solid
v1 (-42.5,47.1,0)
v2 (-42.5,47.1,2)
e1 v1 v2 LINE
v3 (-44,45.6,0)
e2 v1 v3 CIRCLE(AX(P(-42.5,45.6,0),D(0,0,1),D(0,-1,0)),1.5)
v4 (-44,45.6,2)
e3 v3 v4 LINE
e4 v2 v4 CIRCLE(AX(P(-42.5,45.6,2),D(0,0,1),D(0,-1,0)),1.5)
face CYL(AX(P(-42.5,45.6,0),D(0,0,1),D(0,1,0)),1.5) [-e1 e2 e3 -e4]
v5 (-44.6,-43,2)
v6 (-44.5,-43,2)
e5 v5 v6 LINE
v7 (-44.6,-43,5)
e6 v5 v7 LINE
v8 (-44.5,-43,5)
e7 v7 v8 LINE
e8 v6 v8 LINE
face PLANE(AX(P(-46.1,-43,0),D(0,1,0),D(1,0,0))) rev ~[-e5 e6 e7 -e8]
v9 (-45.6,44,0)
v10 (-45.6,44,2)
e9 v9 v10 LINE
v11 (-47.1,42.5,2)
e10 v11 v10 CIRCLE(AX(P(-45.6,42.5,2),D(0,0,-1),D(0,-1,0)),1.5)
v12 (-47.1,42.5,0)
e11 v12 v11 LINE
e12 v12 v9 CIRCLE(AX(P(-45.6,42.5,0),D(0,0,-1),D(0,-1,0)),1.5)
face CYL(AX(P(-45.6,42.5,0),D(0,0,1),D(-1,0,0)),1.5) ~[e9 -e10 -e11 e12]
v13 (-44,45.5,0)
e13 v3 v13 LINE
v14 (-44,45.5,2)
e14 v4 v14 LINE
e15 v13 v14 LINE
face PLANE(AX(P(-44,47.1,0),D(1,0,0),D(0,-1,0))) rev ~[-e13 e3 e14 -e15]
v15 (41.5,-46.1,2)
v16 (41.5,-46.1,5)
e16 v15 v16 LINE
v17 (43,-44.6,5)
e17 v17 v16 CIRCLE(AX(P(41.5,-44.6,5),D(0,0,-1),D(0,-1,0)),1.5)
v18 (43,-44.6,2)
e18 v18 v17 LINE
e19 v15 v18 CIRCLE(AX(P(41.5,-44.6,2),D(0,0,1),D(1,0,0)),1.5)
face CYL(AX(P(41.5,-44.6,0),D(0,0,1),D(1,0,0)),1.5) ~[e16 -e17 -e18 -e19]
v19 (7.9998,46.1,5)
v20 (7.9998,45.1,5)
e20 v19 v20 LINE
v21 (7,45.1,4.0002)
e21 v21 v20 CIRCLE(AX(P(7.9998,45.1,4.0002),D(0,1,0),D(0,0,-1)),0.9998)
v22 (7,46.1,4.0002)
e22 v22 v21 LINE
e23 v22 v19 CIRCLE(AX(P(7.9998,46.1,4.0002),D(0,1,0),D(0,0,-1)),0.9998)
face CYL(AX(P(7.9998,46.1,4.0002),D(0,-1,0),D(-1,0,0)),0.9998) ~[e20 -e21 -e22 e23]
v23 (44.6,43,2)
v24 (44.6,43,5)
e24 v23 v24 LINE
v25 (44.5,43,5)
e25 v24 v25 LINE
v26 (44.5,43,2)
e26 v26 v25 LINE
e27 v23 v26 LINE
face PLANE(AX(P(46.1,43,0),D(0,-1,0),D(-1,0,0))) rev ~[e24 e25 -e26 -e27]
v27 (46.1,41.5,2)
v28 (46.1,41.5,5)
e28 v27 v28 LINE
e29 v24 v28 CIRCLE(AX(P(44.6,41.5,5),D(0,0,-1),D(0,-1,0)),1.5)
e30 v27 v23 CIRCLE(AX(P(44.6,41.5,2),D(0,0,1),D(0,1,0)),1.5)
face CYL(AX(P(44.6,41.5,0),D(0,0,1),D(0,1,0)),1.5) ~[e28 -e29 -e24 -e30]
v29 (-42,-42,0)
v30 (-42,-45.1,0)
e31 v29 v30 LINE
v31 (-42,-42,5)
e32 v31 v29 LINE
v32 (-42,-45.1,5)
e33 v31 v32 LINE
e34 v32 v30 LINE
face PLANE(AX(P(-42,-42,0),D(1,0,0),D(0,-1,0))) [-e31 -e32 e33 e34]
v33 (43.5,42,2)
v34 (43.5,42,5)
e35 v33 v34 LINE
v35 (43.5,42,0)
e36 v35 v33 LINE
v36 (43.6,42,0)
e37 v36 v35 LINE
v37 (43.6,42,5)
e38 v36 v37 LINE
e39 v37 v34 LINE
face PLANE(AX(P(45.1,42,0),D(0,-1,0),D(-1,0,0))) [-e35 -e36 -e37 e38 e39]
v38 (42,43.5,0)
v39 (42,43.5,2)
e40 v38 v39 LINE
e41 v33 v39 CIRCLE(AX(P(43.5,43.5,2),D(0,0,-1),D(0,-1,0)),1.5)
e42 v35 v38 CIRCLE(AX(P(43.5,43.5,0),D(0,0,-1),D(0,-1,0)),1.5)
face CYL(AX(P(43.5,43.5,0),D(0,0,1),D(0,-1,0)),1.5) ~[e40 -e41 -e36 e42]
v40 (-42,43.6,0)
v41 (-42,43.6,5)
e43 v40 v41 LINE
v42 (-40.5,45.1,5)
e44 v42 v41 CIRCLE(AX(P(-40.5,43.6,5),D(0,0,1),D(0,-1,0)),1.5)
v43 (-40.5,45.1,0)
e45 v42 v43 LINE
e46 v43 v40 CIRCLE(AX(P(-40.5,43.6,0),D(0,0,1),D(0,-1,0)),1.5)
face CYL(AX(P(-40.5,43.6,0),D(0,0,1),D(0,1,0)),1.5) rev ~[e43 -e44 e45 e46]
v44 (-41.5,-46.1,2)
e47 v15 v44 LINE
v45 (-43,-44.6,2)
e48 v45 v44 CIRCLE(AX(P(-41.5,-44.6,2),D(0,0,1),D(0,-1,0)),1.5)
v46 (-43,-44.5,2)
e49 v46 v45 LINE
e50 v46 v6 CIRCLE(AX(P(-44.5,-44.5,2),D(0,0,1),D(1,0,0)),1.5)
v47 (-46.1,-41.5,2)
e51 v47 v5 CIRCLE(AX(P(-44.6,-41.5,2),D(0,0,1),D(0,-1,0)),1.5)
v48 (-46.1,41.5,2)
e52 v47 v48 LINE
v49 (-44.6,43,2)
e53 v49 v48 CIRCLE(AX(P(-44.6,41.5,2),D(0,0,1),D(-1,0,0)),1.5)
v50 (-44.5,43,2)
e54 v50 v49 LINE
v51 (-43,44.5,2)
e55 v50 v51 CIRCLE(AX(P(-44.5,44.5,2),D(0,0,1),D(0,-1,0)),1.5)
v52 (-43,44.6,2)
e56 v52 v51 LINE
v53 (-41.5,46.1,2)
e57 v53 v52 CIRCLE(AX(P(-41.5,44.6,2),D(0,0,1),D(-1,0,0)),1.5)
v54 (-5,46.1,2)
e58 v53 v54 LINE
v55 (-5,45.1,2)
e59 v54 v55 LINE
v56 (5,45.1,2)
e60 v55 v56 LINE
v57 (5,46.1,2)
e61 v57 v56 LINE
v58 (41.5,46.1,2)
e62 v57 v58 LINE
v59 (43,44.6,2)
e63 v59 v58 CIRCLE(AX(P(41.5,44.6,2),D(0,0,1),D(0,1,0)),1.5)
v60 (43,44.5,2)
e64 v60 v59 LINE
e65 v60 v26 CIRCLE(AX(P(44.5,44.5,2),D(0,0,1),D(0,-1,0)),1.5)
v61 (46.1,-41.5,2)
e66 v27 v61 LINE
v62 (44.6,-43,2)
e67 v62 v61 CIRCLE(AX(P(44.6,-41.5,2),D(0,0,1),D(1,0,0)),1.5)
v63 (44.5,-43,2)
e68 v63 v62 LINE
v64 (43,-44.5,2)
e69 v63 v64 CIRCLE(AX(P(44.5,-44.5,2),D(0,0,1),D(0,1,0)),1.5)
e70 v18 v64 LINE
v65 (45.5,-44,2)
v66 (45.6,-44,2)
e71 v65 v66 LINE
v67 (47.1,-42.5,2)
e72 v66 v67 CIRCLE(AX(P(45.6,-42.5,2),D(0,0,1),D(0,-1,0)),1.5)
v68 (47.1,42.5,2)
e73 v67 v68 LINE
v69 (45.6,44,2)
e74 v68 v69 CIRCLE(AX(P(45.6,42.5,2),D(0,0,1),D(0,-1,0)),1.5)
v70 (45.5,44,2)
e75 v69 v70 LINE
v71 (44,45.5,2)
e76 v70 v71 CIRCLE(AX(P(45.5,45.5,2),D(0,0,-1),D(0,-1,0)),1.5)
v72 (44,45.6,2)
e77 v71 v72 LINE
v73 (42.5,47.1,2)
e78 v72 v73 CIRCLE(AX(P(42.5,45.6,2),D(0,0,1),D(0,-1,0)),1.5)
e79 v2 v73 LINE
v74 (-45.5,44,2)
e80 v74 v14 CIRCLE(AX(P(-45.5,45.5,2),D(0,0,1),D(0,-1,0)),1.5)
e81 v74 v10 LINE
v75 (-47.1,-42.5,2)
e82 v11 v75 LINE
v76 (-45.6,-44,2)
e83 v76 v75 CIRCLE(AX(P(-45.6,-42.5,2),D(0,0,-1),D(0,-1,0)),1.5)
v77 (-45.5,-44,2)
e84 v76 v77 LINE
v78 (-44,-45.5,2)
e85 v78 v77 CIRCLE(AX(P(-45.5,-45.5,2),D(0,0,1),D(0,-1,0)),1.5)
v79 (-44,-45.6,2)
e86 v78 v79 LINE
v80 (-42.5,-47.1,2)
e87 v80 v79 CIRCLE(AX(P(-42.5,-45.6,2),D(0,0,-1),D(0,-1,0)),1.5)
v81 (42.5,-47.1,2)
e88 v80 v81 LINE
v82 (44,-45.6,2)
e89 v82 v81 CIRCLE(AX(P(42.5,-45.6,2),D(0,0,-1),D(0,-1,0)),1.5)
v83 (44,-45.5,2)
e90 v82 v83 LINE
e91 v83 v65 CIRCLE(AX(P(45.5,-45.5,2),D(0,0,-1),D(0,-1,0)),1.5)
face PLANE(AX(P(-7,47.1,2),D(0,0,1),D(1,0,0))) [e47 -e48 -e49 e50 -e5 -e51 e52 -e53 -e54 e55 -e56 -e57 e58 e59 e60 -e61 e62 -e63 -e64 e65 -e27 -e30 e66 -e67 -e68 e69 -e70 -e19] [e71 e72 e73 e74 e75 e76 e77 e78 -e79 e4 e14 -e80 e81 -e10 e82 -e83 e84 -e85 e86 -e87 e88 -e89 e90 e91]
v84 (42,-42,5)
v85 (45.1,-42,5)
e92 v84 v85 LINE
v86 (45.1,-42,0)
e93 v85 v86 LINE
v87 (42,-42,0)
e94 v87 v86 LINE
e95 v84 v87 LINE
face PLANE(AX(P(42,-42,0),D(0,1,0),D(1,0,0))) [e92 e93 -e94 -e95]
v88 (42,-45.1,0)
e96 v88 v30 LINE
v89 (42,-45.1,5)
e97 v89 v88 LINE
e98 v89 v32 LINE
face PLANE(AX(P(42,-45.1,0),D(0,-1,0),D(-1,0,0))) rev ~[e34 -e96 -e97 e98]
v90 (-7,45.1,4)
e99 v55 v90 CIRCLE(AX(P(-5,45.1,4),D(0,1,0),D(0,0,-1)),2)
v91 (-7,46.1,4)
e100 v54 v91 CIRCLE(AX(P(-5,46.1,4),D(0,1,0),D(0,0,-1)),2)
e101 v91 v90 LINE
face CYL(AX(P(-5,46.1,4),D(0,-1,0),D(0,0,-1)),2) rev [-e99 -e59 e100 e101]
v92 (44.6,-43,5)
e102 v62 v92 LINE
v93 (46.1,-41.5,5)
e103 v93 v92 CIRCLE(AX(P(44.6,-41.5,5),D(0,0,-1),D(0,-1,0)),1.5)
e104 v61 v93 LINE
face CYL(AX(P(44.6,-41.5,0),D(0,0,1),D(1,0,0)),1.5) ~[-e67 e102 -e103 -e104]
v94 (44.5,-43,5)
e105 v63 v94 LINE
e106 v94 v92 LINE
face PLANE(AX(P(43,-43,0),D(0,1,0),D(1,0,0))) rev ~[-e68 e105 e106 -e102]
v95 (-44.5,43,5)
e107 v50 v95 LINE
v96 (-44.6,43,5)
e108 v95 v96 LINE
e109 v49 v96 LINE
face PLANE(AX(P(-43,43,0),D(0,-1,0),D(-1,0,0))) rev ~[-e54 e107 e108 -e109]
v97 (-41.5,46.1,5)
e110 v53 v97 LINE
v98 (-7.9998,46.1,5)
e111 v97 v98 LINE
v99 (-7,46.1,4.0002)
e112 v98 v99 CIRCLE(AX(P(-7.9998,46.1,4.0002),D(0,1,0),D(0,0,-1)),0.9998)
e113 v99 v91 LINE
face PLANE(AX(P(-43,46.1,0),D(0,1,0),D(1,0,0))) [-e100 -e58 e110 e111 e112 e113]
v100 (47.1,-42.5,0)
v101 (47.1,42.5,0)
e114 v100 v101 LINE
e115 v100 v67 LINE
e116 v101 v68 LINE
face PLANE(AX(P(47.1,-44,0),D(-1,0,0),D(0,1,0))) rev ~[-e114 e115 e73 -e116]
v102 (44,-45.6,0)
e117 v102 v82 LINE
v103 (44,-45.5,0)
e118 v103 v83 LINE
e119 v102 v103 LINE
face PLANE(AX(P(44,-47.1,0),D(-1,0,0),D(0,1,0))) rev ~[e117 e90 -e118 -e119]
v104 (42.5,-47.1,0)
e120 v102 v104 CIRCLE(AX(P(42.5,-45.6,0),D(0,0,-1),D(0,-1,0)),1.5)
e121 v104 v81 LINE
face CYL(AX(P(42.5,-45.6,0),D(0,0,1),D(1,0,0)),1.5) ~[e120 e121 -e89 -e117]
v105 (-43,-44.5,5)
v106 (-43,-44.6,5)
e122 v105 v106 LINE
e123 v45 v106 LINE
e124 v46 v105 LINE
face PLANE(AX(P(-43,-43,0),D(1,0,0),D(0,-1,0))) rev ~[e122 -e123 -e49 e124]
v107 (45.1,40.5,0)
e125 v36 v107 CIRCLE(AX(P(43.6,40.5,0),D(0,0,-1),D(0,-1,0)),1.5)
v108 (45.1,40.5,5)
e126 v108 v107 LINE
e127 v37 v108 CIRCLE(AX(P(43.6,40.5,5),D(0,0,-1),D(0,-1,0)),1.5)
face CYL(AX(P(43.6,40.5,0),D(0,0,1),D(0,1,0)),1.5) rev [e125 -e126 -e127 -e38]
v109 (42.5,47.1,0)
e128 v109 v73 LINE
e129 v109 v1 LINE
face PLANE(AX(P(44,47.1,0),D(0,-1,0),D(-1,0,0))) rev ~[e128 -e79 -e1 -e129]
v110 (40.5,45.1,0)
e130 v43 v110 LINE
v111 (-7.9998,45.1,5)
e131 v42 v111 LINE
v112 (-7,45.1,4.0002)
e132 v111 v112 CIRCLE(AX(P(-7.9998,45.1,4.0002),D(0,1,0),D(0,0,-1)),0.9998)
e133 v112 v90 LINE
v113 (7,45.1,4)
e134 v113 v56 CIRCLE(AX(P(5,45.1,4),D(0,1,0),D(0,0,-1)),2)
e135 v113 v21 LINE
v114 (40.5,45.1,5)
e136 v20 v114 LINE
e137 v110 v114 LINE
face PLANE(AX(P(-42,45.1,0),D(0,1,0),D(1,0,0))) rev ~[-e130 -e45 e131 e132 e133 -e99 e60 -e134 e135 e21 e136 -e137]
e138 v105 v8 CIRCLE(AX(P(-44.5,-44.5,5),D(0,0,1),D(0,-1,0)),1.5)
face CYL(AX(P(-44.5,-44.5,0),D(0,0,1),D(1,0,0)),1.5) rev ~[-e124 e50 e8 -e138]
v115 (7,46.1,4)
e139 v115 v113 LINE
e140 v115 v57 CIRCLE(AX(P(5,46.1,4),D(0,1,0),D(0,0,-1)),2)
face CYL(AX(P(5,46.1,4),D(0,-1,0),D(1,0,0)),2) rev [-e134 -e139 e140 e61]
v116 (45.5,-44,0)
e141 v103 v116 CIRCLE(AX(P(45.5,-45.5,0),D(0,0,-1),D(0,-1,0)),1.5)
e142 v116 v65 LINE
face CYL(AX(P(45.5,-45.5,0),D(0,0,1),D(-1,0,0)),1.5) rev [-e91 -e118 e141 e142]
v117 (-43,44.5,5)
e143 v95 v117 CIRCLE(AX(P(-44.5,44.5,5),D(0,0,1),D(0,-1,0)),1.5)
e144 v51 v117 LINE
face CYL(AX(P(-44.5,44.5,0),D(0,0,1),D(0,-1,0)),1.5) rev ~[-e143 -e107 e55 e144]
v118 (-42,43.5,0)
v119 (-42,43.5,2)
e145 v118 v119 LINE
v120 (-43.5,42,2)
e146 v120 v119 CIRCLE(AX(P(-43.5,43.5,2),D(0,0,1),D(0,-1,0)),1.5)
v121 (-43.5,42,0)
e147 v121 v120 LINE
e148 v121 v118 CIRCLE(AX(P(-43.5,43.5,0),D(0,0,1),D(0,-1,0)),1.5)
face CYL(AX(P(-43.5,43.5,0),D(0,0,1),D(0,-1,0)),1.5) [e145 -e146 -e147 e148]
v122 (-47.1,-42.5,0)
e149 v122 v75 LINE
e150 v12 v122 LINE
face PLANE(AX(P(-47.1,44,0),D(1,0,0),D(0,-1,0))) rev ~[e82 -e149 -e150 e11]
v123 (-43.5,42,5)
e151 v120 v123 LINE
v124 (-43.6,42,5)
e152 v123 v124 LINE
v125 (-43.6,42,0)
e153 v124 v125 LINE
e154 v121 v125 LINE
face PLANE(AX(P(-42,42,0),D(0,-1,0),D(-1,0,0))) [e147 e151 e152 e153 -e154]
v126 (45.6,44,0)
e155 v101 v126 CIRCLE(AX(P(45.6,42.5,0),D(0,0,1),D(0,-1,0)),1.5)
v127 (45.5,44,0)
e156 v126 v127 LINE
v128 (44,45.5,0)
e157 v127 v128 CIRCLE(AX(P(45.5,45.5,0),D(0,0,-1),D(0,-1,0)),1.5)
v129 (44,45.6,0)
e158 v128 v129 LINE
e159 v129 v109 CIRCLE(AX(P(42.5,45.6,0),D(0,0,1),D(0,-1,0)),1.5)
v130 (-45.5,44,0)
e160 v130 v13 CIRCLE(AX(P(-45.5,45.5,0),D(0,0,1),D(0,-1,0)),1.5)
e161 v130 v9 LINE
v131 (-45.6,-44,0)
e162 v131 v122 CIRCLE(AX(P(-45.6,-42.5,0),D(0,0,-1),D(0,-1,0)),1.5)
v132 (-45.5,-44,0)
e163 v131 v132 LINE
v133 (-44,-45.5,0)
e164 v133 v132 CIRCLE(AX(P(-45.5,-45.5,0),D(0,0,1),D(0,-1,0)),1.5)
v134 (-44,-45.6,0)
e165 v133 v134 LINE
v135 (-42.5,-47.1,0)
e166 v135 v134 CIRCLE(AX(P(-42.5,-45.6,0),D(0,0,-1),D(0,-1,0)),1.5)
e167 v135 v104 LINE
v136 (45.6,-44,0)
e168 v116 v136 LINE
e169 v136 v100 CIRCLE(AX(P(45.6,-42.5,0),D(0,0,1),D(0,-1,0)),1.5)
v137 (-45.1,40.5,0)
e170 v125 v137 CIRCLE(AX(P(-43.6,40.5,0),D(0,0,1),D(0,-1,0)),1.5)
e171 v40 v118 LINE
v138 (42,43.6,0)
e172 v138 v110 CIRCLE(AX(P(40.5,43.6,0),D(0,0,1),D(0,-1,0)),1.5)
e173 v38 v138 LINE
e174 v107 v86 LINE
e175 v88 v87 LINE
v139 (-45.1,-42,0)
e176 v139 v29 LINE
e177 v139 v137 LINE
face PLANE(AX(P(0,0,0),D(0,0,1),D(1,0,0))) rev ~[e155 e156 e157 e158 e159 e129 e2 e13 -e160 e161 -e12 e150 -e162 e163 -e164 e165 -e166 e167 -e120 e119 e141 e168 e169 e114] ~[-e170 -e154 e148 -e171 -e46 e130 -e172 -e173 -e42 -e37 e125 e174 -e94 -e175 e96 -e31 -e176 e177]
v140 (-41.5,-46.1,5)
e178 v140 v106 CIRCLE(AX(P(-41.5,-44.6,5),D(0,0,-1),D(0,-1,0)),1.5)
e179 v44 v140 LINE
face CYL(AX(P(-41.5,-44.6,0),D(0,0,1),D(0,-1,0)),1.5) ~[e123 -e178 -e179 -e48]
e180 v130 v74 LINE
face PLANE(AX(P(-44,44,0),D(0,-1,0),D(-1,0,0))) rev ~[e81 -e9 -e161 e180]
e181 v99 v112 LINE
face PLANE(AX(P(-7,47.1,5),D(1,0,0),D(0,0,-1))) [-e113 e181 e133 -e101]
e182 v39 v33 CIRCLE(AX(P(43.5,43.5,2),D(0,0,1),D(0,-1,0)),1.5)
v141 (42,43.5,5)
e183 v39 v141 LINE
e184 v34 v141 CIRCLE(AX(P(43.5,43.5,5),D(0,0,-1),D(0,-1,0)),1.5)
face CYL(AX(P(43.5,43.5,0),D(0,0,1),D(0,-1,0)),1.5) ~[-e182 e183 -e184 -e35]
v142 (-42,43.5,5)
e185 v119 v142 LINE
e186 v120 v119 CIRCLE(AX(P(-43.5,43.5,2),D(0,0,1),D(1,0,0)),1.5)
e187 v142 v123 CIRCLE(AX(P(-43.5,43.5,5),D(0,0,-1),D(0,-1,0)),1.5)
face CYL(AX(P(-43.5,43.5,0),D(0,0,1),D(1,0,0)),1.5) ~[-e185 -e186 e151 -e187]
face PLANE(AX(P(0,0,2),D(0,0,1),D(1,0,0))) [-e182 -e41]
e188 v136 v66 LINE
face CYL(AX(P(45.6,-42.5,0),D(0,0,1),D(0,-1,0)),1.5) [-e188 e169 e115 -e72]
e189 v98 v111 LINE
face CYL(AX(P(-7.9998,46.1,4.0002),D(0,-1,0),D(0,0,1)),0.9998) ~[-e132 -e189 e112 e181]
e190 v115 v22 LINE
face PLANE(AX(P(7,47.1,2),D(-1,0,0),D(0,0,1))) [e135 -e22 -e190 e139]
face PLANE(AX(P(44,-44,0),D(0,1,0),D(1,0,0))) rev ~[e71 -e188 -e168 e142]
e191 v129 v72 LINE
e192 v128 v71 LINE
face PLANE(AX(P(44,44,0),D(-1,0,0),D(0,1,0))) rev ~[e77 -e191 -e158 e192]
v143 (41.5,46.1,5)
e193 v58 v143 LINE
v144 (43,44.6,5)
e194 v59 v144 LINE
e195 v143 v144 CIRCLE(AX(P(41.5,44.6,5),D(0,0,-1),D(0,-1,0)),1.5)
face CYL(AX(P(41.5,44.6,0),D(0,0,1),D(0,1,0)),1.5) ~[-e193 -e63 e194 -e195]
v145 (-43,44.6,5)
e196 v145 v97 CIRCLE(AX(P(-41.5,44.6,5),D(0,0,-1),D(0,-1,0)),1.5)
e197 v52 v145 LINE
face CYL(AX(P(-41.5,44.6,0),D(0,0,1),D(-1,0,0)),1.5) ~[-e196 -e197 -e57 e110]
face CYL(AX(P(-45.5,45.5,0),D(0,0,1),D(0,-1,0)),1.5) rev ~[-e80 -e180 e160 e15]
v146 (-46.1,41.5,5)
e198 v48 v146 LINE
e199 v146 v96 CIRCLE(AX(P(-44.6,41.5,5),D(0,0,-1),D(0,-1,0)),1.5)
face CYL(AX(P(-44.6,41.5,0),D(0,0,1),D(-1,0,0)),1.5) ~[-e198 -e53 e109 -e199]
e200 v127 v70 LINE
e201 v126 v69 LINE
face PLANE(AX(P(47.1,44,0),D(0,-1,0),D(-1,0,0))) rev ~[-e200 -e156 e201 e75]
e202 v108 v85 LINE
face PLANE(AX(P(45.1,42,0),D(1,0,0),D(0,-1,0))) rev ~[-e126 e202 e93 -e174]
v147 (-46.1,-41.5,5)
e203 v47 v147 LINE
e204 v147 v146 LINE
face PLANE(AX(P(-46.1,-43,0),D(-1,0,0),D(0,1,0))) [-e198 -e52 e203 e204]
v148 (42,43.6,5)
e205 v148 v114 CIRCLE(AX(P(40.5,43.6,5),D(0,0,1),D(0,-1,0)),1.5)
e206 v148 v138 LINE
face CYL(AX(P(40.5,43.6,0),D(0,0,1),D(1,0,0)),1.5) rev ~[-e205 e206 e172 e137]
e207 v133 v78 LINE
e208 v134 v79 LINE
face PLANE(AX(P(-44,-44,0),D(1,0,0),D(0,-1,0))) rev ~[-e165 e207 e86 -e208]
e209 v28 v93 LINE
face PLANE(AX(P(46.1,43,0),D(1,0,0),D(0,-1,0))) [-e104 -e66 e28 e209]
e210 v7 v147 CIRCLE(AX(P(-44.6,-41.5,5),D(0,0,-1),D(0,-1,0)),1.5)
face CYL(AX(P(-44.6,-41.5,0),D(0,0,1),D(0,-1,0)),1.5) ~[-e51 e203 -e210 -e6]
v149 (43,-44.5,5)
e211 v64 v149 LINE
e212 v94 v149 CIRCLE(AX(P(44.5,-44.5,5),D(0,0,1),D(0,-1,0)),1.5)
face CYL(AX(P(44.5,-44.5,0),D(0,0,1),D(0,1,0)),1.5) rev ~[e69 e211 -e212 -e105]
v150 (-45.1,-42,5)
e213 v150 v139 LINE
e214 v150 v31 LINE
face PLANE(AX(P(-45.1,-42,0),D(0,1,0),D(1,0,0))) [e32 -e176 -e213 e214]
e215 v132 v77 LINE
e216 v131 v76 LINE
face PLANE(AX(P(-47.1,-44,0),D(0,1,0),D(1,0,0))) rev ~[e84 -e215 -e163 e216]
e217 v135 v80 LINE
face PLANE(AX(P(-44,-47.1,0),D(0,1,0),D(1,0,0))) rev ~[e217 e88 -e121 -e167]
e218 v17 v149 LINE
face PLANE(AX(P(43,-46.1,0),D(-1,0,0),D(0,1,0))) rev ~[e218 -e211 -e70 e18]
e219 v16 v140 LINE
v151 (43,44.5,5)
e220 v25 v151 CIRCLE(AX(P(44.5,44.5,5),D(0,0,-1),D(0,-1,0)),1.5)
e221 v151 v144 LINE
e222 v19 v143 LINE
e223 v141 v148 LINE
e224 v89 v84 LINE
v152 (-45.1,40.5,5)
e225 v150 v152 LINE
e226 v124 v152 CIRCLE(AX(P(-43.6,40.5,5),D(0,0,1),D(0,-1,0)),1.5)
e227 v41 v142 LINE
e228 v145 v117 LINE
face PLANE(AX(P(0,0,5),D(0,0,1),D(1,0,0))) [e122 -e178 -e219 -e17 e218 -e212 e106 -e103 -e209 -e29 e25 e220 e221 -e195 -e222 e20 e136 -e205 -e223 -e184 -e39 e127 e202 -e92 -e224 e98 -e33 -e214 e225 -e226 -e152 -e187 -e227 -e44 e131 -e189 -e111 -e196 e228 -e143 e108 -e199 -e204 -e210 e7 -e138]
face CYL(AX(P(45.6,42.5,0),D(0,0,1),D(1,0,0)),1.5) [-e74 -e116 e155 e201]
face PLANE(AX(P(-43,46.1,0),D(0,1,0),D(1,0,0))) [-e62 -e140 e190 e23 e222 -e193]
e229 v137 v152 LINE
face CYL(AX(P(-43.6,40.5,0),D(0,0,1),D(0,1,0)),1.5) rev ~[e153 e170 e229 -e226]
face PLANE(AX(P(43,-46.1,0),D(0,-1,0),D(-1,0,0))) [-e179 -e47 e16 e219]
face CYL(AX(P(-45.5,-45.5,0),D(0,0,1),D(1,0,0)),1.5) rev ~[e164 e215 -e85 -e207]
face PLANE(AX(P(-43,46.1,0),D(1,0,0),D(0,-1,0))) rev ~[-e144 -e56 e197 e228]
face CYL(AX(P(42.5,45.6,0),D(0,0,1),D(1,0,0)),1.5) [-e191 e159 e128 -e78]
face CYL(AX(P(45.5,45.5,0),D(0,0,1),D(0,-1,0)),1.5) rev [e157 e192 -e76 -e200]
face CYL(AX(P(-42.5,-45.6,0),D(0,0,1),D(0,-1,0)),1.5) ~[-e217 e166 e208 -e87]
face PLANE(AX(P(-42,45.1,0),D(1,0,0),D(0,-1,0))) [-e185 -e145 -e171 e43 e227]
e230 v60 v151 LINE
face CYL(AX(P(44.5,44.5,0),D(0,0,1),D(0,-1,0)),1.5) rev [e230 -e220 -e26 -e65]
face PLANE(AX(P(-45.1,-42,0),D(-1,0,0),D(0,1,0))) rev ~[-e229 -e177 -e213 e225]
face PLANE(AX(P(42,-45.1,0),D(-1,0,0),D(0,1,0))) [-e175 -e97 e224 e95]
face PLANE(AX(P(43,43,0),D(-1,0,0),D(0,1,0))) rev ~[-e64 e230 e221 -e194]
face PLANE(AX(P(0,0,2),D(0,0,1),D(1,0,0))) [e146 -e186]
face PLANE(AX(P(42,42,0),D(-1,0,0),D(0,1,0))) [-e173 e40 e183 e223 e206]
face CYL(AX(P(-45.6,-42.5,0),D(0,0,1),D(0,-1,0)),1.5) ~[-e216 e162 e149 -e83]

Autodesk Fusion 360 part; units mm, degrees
sketch "Sketch1" plane through (0, 0, 0) normal (0, 0, 1) x (1, 0, 0)
  line L0 (45.1, 45.1) -> (-45.1, -45.1) construction
  line L1 (-45.1, 45.1) -> (45.1, -45.1) construction
  line L2 (45.1, 45.1) -> (45.1, 42) construction
  line L3 (45.1, 42) -> (42, 42)
  line L4 (42, 42) -> (42, 45.1)
  line L5 (-42, 42) -> (-45.1, 42)
  line L6 (-42, 45.1) -> (-42, 42)
  line L7 (-42, -42) -> (-42, -45.1)
  line L8 (-45.1, -42) -> (-42, -42)
  line L9 (42, -42) -> (45.1, -42)
  line L10 (42, -45.1) -> (42, -42)
  line L11 (-42, 45.1) -> (42, 45.1)
  line L12 (45.1, 42) -> (45.1, -42)
  line L13 (42, -45.1) -> (-42, -45.1)
  line L14 (-45.1, -42) -> (-45.1, 42)
  line L15 (43, 43) -> (43, 46.1)
  line L16 (-43, 46.1) -> (43, 46.1)
  line L17 (-43, 46.1) -> (-43, 43)
  line L18 (-43, 43) -> (-46.1, 43)
  line L19 (-46.1, -43) -> (-46.1, 43)
  line L20 (-46.1, -43) -> (-43, -43)
  line L21 (-43, -43) -> (-43, -46.1)
  line L22 (43, -46.1) -> (-43, -46.1)
  line L23 (43, -46.1) -> (43, -43)
  line L24 (43, -43) -> (46.1, -43)
  line L25 (46.1, 43) -> (46.1, -43)
  line L26 (46.1, 43) -> (43, 43)
  dimension "d1" = 90.2
  dimension "d2" = 90.2
  dimension "d3" = 3.1
  dimension "d5" = 360
  dimension "d6" = 1
extrude "Extrude1" add sketch "Sketch1" along normal blind 5
fillet "Fillet1" radius 1.5 18 edges at (-43, 46.1, 2.5) (-43, 43, 2.5) (-46.1, 43, 2.5) (-42, 45.1, 2.5) (-42, 42, 2.5) (-45.1, 42, 2.5) (42, 45.1, 2.5) (42, 42, 2.5) (45.1, 42, 2.5) (43, 46.1, 2.5) (43, 43, 2.5) (46.1, 43, 2.5) (46.1, -43, 2.5) (43, -46.1, 2.5) (43, -43, 2.5) (-43, -43, 2.5) (-46.1, -43, 2.5) (-43, -46.1, 2.5)
sketch "Sketch2" plane through (0, 0, 0) normal (0, 0, 1) x (1, 0, 0)
  line L0 (-43, -46.1) -> (43, -46.1)
  line L1 (43, -46.1) -> (43, -43)
  line L2 (43, -43) -> (46.1, -43)
  line L3 (46.1, -43) -> (46.1, 43)
  line L4 (46.1, 43) -> (43, 43)
  line L5 (43, 43) -> (43, 46.1)
  line L6 (43, 46.1) -> (-43, 46.1)
  line L7 (-43, 46.1) -> (-43, 43)
  line L8 (-43, 43) -> (-46.1, 43)
  line L9 (-46.1, 43) -> (-46.1, -43)
  line L10 (-46.1, -43) -> (-43, -43)
  line L11 (-43, -43) -> (-43, -46.1)
  line L12 (44, -44) -> (47.1, -44)
  line L13 (47.1, -44) -> (47.1, 44)
  line L14 (47.1, 44) -> (44, 44)
  line L15 (44, 44) -> (44, 47.1)
  line L16 (44, 47.1) -> (-44, 47.1)
  line L17 (-44, 47.1) -> (-44, 44)
  line L18 (-44, 44) -> (-47.1, 44)
  line L19 (-47.1, 44) -> (-47.1, -44)
  line L20 (-47.1, -44) -> (-44, -44)
  line L21 (-44, -44) -> (-44, -47.1)
  line L22 (-44, -47.1) -> (44, -47.1)
  line L23 (44, -47.1) -> (44, -44)
  line L24 (45.1, 42) -> (42, 42)
  line L25 (42, 42) -> (42, 45.1)
  line L26 (42, 45.1) -> (-42, 45.1)
  line L27 (-42, 45.1) -> (-42, 42)
  line L28 (-42, 42) -> (-45.1, 42)
  line L29 (-45.1, 42) -> (-45.1, -42)
  line L30 (-45.1, -42) -> (-42, -42)
  line L31 (-42, -42) -> (-42, -45.1)
  line L32 (-42, -45.1) -> (42, -45.1)
  line L33 (42, -45.1) -> (42, -42)
  line L34 (42, -42) -> (45.1, -42)
  line L35 (45.1, -42) -> (45.1, 42)
  dimension "d11" = 1
  dimension "d16" = -1
extrude "Extrude2" add sketch "Sketch2" along normal blind 2 contours L0 L1 L2 L3 L4 L5 L6 L7 L8 L9 L10 L11 | L12 L13 L14 L15 L16 L17 L18 L19 L20 L21 L22 L23
fillet "Fillet2" radius 1.5 12 edges at (44, -47.1, 1) (44, -44, 1) (47.1, -44, 1) (47.1, 44, 1) (44, 44, 1) (44, 47.1, 1) (-44, 44, 1) (-44, 47.1, 1) (-47.1, 44, 1) (-44, -44, 1) (-47.1, -44, 1) (-44, -47.1, 1)
fillet "Fillet3" [suppressed]
fillet "Fillet4" radius 1.5 2 edges at (-42, 42, 1) (42, 42, 1)
sketch "Sketch3" plane through (0, 47.1, 0) normal (0, 1, 0) x (-1, 0, 0)
  line L0 (42.5, 0) -> (42.5, 2)
  line L1 (42.5, 2) -> (-42.5, 2)
  line L2 (-42.5, 2) -> (-42.5, 0)
  line L3 (-42.5, 0) -> (42.5, 0)
  line L4 (-7, 5) -> (7, 5)
  line L5 (7, 5) -> (7, 2)
  line L6 (7, 2) -> (-7, 2)
  line L7 (-7, 2) -> (-7, 5)
  line L8 (0, 0) -> (0, 5) construction
  dimension "d21" = 3
  dimension "d22" = 14
  dimension "d23" = 7
extrude "Extrude3" cut sketch "Sketch3" against normal blind 2 contours L1 L4 L5 L6 L7
fillet "Fillet5" radius 2 2 edges at (7, 45.6, 2) (-7, 45.6, 2)
fillet "Fillet6" radius 1 2 edges at (7, 45.6, 5) (-7, 45.6, 5)
